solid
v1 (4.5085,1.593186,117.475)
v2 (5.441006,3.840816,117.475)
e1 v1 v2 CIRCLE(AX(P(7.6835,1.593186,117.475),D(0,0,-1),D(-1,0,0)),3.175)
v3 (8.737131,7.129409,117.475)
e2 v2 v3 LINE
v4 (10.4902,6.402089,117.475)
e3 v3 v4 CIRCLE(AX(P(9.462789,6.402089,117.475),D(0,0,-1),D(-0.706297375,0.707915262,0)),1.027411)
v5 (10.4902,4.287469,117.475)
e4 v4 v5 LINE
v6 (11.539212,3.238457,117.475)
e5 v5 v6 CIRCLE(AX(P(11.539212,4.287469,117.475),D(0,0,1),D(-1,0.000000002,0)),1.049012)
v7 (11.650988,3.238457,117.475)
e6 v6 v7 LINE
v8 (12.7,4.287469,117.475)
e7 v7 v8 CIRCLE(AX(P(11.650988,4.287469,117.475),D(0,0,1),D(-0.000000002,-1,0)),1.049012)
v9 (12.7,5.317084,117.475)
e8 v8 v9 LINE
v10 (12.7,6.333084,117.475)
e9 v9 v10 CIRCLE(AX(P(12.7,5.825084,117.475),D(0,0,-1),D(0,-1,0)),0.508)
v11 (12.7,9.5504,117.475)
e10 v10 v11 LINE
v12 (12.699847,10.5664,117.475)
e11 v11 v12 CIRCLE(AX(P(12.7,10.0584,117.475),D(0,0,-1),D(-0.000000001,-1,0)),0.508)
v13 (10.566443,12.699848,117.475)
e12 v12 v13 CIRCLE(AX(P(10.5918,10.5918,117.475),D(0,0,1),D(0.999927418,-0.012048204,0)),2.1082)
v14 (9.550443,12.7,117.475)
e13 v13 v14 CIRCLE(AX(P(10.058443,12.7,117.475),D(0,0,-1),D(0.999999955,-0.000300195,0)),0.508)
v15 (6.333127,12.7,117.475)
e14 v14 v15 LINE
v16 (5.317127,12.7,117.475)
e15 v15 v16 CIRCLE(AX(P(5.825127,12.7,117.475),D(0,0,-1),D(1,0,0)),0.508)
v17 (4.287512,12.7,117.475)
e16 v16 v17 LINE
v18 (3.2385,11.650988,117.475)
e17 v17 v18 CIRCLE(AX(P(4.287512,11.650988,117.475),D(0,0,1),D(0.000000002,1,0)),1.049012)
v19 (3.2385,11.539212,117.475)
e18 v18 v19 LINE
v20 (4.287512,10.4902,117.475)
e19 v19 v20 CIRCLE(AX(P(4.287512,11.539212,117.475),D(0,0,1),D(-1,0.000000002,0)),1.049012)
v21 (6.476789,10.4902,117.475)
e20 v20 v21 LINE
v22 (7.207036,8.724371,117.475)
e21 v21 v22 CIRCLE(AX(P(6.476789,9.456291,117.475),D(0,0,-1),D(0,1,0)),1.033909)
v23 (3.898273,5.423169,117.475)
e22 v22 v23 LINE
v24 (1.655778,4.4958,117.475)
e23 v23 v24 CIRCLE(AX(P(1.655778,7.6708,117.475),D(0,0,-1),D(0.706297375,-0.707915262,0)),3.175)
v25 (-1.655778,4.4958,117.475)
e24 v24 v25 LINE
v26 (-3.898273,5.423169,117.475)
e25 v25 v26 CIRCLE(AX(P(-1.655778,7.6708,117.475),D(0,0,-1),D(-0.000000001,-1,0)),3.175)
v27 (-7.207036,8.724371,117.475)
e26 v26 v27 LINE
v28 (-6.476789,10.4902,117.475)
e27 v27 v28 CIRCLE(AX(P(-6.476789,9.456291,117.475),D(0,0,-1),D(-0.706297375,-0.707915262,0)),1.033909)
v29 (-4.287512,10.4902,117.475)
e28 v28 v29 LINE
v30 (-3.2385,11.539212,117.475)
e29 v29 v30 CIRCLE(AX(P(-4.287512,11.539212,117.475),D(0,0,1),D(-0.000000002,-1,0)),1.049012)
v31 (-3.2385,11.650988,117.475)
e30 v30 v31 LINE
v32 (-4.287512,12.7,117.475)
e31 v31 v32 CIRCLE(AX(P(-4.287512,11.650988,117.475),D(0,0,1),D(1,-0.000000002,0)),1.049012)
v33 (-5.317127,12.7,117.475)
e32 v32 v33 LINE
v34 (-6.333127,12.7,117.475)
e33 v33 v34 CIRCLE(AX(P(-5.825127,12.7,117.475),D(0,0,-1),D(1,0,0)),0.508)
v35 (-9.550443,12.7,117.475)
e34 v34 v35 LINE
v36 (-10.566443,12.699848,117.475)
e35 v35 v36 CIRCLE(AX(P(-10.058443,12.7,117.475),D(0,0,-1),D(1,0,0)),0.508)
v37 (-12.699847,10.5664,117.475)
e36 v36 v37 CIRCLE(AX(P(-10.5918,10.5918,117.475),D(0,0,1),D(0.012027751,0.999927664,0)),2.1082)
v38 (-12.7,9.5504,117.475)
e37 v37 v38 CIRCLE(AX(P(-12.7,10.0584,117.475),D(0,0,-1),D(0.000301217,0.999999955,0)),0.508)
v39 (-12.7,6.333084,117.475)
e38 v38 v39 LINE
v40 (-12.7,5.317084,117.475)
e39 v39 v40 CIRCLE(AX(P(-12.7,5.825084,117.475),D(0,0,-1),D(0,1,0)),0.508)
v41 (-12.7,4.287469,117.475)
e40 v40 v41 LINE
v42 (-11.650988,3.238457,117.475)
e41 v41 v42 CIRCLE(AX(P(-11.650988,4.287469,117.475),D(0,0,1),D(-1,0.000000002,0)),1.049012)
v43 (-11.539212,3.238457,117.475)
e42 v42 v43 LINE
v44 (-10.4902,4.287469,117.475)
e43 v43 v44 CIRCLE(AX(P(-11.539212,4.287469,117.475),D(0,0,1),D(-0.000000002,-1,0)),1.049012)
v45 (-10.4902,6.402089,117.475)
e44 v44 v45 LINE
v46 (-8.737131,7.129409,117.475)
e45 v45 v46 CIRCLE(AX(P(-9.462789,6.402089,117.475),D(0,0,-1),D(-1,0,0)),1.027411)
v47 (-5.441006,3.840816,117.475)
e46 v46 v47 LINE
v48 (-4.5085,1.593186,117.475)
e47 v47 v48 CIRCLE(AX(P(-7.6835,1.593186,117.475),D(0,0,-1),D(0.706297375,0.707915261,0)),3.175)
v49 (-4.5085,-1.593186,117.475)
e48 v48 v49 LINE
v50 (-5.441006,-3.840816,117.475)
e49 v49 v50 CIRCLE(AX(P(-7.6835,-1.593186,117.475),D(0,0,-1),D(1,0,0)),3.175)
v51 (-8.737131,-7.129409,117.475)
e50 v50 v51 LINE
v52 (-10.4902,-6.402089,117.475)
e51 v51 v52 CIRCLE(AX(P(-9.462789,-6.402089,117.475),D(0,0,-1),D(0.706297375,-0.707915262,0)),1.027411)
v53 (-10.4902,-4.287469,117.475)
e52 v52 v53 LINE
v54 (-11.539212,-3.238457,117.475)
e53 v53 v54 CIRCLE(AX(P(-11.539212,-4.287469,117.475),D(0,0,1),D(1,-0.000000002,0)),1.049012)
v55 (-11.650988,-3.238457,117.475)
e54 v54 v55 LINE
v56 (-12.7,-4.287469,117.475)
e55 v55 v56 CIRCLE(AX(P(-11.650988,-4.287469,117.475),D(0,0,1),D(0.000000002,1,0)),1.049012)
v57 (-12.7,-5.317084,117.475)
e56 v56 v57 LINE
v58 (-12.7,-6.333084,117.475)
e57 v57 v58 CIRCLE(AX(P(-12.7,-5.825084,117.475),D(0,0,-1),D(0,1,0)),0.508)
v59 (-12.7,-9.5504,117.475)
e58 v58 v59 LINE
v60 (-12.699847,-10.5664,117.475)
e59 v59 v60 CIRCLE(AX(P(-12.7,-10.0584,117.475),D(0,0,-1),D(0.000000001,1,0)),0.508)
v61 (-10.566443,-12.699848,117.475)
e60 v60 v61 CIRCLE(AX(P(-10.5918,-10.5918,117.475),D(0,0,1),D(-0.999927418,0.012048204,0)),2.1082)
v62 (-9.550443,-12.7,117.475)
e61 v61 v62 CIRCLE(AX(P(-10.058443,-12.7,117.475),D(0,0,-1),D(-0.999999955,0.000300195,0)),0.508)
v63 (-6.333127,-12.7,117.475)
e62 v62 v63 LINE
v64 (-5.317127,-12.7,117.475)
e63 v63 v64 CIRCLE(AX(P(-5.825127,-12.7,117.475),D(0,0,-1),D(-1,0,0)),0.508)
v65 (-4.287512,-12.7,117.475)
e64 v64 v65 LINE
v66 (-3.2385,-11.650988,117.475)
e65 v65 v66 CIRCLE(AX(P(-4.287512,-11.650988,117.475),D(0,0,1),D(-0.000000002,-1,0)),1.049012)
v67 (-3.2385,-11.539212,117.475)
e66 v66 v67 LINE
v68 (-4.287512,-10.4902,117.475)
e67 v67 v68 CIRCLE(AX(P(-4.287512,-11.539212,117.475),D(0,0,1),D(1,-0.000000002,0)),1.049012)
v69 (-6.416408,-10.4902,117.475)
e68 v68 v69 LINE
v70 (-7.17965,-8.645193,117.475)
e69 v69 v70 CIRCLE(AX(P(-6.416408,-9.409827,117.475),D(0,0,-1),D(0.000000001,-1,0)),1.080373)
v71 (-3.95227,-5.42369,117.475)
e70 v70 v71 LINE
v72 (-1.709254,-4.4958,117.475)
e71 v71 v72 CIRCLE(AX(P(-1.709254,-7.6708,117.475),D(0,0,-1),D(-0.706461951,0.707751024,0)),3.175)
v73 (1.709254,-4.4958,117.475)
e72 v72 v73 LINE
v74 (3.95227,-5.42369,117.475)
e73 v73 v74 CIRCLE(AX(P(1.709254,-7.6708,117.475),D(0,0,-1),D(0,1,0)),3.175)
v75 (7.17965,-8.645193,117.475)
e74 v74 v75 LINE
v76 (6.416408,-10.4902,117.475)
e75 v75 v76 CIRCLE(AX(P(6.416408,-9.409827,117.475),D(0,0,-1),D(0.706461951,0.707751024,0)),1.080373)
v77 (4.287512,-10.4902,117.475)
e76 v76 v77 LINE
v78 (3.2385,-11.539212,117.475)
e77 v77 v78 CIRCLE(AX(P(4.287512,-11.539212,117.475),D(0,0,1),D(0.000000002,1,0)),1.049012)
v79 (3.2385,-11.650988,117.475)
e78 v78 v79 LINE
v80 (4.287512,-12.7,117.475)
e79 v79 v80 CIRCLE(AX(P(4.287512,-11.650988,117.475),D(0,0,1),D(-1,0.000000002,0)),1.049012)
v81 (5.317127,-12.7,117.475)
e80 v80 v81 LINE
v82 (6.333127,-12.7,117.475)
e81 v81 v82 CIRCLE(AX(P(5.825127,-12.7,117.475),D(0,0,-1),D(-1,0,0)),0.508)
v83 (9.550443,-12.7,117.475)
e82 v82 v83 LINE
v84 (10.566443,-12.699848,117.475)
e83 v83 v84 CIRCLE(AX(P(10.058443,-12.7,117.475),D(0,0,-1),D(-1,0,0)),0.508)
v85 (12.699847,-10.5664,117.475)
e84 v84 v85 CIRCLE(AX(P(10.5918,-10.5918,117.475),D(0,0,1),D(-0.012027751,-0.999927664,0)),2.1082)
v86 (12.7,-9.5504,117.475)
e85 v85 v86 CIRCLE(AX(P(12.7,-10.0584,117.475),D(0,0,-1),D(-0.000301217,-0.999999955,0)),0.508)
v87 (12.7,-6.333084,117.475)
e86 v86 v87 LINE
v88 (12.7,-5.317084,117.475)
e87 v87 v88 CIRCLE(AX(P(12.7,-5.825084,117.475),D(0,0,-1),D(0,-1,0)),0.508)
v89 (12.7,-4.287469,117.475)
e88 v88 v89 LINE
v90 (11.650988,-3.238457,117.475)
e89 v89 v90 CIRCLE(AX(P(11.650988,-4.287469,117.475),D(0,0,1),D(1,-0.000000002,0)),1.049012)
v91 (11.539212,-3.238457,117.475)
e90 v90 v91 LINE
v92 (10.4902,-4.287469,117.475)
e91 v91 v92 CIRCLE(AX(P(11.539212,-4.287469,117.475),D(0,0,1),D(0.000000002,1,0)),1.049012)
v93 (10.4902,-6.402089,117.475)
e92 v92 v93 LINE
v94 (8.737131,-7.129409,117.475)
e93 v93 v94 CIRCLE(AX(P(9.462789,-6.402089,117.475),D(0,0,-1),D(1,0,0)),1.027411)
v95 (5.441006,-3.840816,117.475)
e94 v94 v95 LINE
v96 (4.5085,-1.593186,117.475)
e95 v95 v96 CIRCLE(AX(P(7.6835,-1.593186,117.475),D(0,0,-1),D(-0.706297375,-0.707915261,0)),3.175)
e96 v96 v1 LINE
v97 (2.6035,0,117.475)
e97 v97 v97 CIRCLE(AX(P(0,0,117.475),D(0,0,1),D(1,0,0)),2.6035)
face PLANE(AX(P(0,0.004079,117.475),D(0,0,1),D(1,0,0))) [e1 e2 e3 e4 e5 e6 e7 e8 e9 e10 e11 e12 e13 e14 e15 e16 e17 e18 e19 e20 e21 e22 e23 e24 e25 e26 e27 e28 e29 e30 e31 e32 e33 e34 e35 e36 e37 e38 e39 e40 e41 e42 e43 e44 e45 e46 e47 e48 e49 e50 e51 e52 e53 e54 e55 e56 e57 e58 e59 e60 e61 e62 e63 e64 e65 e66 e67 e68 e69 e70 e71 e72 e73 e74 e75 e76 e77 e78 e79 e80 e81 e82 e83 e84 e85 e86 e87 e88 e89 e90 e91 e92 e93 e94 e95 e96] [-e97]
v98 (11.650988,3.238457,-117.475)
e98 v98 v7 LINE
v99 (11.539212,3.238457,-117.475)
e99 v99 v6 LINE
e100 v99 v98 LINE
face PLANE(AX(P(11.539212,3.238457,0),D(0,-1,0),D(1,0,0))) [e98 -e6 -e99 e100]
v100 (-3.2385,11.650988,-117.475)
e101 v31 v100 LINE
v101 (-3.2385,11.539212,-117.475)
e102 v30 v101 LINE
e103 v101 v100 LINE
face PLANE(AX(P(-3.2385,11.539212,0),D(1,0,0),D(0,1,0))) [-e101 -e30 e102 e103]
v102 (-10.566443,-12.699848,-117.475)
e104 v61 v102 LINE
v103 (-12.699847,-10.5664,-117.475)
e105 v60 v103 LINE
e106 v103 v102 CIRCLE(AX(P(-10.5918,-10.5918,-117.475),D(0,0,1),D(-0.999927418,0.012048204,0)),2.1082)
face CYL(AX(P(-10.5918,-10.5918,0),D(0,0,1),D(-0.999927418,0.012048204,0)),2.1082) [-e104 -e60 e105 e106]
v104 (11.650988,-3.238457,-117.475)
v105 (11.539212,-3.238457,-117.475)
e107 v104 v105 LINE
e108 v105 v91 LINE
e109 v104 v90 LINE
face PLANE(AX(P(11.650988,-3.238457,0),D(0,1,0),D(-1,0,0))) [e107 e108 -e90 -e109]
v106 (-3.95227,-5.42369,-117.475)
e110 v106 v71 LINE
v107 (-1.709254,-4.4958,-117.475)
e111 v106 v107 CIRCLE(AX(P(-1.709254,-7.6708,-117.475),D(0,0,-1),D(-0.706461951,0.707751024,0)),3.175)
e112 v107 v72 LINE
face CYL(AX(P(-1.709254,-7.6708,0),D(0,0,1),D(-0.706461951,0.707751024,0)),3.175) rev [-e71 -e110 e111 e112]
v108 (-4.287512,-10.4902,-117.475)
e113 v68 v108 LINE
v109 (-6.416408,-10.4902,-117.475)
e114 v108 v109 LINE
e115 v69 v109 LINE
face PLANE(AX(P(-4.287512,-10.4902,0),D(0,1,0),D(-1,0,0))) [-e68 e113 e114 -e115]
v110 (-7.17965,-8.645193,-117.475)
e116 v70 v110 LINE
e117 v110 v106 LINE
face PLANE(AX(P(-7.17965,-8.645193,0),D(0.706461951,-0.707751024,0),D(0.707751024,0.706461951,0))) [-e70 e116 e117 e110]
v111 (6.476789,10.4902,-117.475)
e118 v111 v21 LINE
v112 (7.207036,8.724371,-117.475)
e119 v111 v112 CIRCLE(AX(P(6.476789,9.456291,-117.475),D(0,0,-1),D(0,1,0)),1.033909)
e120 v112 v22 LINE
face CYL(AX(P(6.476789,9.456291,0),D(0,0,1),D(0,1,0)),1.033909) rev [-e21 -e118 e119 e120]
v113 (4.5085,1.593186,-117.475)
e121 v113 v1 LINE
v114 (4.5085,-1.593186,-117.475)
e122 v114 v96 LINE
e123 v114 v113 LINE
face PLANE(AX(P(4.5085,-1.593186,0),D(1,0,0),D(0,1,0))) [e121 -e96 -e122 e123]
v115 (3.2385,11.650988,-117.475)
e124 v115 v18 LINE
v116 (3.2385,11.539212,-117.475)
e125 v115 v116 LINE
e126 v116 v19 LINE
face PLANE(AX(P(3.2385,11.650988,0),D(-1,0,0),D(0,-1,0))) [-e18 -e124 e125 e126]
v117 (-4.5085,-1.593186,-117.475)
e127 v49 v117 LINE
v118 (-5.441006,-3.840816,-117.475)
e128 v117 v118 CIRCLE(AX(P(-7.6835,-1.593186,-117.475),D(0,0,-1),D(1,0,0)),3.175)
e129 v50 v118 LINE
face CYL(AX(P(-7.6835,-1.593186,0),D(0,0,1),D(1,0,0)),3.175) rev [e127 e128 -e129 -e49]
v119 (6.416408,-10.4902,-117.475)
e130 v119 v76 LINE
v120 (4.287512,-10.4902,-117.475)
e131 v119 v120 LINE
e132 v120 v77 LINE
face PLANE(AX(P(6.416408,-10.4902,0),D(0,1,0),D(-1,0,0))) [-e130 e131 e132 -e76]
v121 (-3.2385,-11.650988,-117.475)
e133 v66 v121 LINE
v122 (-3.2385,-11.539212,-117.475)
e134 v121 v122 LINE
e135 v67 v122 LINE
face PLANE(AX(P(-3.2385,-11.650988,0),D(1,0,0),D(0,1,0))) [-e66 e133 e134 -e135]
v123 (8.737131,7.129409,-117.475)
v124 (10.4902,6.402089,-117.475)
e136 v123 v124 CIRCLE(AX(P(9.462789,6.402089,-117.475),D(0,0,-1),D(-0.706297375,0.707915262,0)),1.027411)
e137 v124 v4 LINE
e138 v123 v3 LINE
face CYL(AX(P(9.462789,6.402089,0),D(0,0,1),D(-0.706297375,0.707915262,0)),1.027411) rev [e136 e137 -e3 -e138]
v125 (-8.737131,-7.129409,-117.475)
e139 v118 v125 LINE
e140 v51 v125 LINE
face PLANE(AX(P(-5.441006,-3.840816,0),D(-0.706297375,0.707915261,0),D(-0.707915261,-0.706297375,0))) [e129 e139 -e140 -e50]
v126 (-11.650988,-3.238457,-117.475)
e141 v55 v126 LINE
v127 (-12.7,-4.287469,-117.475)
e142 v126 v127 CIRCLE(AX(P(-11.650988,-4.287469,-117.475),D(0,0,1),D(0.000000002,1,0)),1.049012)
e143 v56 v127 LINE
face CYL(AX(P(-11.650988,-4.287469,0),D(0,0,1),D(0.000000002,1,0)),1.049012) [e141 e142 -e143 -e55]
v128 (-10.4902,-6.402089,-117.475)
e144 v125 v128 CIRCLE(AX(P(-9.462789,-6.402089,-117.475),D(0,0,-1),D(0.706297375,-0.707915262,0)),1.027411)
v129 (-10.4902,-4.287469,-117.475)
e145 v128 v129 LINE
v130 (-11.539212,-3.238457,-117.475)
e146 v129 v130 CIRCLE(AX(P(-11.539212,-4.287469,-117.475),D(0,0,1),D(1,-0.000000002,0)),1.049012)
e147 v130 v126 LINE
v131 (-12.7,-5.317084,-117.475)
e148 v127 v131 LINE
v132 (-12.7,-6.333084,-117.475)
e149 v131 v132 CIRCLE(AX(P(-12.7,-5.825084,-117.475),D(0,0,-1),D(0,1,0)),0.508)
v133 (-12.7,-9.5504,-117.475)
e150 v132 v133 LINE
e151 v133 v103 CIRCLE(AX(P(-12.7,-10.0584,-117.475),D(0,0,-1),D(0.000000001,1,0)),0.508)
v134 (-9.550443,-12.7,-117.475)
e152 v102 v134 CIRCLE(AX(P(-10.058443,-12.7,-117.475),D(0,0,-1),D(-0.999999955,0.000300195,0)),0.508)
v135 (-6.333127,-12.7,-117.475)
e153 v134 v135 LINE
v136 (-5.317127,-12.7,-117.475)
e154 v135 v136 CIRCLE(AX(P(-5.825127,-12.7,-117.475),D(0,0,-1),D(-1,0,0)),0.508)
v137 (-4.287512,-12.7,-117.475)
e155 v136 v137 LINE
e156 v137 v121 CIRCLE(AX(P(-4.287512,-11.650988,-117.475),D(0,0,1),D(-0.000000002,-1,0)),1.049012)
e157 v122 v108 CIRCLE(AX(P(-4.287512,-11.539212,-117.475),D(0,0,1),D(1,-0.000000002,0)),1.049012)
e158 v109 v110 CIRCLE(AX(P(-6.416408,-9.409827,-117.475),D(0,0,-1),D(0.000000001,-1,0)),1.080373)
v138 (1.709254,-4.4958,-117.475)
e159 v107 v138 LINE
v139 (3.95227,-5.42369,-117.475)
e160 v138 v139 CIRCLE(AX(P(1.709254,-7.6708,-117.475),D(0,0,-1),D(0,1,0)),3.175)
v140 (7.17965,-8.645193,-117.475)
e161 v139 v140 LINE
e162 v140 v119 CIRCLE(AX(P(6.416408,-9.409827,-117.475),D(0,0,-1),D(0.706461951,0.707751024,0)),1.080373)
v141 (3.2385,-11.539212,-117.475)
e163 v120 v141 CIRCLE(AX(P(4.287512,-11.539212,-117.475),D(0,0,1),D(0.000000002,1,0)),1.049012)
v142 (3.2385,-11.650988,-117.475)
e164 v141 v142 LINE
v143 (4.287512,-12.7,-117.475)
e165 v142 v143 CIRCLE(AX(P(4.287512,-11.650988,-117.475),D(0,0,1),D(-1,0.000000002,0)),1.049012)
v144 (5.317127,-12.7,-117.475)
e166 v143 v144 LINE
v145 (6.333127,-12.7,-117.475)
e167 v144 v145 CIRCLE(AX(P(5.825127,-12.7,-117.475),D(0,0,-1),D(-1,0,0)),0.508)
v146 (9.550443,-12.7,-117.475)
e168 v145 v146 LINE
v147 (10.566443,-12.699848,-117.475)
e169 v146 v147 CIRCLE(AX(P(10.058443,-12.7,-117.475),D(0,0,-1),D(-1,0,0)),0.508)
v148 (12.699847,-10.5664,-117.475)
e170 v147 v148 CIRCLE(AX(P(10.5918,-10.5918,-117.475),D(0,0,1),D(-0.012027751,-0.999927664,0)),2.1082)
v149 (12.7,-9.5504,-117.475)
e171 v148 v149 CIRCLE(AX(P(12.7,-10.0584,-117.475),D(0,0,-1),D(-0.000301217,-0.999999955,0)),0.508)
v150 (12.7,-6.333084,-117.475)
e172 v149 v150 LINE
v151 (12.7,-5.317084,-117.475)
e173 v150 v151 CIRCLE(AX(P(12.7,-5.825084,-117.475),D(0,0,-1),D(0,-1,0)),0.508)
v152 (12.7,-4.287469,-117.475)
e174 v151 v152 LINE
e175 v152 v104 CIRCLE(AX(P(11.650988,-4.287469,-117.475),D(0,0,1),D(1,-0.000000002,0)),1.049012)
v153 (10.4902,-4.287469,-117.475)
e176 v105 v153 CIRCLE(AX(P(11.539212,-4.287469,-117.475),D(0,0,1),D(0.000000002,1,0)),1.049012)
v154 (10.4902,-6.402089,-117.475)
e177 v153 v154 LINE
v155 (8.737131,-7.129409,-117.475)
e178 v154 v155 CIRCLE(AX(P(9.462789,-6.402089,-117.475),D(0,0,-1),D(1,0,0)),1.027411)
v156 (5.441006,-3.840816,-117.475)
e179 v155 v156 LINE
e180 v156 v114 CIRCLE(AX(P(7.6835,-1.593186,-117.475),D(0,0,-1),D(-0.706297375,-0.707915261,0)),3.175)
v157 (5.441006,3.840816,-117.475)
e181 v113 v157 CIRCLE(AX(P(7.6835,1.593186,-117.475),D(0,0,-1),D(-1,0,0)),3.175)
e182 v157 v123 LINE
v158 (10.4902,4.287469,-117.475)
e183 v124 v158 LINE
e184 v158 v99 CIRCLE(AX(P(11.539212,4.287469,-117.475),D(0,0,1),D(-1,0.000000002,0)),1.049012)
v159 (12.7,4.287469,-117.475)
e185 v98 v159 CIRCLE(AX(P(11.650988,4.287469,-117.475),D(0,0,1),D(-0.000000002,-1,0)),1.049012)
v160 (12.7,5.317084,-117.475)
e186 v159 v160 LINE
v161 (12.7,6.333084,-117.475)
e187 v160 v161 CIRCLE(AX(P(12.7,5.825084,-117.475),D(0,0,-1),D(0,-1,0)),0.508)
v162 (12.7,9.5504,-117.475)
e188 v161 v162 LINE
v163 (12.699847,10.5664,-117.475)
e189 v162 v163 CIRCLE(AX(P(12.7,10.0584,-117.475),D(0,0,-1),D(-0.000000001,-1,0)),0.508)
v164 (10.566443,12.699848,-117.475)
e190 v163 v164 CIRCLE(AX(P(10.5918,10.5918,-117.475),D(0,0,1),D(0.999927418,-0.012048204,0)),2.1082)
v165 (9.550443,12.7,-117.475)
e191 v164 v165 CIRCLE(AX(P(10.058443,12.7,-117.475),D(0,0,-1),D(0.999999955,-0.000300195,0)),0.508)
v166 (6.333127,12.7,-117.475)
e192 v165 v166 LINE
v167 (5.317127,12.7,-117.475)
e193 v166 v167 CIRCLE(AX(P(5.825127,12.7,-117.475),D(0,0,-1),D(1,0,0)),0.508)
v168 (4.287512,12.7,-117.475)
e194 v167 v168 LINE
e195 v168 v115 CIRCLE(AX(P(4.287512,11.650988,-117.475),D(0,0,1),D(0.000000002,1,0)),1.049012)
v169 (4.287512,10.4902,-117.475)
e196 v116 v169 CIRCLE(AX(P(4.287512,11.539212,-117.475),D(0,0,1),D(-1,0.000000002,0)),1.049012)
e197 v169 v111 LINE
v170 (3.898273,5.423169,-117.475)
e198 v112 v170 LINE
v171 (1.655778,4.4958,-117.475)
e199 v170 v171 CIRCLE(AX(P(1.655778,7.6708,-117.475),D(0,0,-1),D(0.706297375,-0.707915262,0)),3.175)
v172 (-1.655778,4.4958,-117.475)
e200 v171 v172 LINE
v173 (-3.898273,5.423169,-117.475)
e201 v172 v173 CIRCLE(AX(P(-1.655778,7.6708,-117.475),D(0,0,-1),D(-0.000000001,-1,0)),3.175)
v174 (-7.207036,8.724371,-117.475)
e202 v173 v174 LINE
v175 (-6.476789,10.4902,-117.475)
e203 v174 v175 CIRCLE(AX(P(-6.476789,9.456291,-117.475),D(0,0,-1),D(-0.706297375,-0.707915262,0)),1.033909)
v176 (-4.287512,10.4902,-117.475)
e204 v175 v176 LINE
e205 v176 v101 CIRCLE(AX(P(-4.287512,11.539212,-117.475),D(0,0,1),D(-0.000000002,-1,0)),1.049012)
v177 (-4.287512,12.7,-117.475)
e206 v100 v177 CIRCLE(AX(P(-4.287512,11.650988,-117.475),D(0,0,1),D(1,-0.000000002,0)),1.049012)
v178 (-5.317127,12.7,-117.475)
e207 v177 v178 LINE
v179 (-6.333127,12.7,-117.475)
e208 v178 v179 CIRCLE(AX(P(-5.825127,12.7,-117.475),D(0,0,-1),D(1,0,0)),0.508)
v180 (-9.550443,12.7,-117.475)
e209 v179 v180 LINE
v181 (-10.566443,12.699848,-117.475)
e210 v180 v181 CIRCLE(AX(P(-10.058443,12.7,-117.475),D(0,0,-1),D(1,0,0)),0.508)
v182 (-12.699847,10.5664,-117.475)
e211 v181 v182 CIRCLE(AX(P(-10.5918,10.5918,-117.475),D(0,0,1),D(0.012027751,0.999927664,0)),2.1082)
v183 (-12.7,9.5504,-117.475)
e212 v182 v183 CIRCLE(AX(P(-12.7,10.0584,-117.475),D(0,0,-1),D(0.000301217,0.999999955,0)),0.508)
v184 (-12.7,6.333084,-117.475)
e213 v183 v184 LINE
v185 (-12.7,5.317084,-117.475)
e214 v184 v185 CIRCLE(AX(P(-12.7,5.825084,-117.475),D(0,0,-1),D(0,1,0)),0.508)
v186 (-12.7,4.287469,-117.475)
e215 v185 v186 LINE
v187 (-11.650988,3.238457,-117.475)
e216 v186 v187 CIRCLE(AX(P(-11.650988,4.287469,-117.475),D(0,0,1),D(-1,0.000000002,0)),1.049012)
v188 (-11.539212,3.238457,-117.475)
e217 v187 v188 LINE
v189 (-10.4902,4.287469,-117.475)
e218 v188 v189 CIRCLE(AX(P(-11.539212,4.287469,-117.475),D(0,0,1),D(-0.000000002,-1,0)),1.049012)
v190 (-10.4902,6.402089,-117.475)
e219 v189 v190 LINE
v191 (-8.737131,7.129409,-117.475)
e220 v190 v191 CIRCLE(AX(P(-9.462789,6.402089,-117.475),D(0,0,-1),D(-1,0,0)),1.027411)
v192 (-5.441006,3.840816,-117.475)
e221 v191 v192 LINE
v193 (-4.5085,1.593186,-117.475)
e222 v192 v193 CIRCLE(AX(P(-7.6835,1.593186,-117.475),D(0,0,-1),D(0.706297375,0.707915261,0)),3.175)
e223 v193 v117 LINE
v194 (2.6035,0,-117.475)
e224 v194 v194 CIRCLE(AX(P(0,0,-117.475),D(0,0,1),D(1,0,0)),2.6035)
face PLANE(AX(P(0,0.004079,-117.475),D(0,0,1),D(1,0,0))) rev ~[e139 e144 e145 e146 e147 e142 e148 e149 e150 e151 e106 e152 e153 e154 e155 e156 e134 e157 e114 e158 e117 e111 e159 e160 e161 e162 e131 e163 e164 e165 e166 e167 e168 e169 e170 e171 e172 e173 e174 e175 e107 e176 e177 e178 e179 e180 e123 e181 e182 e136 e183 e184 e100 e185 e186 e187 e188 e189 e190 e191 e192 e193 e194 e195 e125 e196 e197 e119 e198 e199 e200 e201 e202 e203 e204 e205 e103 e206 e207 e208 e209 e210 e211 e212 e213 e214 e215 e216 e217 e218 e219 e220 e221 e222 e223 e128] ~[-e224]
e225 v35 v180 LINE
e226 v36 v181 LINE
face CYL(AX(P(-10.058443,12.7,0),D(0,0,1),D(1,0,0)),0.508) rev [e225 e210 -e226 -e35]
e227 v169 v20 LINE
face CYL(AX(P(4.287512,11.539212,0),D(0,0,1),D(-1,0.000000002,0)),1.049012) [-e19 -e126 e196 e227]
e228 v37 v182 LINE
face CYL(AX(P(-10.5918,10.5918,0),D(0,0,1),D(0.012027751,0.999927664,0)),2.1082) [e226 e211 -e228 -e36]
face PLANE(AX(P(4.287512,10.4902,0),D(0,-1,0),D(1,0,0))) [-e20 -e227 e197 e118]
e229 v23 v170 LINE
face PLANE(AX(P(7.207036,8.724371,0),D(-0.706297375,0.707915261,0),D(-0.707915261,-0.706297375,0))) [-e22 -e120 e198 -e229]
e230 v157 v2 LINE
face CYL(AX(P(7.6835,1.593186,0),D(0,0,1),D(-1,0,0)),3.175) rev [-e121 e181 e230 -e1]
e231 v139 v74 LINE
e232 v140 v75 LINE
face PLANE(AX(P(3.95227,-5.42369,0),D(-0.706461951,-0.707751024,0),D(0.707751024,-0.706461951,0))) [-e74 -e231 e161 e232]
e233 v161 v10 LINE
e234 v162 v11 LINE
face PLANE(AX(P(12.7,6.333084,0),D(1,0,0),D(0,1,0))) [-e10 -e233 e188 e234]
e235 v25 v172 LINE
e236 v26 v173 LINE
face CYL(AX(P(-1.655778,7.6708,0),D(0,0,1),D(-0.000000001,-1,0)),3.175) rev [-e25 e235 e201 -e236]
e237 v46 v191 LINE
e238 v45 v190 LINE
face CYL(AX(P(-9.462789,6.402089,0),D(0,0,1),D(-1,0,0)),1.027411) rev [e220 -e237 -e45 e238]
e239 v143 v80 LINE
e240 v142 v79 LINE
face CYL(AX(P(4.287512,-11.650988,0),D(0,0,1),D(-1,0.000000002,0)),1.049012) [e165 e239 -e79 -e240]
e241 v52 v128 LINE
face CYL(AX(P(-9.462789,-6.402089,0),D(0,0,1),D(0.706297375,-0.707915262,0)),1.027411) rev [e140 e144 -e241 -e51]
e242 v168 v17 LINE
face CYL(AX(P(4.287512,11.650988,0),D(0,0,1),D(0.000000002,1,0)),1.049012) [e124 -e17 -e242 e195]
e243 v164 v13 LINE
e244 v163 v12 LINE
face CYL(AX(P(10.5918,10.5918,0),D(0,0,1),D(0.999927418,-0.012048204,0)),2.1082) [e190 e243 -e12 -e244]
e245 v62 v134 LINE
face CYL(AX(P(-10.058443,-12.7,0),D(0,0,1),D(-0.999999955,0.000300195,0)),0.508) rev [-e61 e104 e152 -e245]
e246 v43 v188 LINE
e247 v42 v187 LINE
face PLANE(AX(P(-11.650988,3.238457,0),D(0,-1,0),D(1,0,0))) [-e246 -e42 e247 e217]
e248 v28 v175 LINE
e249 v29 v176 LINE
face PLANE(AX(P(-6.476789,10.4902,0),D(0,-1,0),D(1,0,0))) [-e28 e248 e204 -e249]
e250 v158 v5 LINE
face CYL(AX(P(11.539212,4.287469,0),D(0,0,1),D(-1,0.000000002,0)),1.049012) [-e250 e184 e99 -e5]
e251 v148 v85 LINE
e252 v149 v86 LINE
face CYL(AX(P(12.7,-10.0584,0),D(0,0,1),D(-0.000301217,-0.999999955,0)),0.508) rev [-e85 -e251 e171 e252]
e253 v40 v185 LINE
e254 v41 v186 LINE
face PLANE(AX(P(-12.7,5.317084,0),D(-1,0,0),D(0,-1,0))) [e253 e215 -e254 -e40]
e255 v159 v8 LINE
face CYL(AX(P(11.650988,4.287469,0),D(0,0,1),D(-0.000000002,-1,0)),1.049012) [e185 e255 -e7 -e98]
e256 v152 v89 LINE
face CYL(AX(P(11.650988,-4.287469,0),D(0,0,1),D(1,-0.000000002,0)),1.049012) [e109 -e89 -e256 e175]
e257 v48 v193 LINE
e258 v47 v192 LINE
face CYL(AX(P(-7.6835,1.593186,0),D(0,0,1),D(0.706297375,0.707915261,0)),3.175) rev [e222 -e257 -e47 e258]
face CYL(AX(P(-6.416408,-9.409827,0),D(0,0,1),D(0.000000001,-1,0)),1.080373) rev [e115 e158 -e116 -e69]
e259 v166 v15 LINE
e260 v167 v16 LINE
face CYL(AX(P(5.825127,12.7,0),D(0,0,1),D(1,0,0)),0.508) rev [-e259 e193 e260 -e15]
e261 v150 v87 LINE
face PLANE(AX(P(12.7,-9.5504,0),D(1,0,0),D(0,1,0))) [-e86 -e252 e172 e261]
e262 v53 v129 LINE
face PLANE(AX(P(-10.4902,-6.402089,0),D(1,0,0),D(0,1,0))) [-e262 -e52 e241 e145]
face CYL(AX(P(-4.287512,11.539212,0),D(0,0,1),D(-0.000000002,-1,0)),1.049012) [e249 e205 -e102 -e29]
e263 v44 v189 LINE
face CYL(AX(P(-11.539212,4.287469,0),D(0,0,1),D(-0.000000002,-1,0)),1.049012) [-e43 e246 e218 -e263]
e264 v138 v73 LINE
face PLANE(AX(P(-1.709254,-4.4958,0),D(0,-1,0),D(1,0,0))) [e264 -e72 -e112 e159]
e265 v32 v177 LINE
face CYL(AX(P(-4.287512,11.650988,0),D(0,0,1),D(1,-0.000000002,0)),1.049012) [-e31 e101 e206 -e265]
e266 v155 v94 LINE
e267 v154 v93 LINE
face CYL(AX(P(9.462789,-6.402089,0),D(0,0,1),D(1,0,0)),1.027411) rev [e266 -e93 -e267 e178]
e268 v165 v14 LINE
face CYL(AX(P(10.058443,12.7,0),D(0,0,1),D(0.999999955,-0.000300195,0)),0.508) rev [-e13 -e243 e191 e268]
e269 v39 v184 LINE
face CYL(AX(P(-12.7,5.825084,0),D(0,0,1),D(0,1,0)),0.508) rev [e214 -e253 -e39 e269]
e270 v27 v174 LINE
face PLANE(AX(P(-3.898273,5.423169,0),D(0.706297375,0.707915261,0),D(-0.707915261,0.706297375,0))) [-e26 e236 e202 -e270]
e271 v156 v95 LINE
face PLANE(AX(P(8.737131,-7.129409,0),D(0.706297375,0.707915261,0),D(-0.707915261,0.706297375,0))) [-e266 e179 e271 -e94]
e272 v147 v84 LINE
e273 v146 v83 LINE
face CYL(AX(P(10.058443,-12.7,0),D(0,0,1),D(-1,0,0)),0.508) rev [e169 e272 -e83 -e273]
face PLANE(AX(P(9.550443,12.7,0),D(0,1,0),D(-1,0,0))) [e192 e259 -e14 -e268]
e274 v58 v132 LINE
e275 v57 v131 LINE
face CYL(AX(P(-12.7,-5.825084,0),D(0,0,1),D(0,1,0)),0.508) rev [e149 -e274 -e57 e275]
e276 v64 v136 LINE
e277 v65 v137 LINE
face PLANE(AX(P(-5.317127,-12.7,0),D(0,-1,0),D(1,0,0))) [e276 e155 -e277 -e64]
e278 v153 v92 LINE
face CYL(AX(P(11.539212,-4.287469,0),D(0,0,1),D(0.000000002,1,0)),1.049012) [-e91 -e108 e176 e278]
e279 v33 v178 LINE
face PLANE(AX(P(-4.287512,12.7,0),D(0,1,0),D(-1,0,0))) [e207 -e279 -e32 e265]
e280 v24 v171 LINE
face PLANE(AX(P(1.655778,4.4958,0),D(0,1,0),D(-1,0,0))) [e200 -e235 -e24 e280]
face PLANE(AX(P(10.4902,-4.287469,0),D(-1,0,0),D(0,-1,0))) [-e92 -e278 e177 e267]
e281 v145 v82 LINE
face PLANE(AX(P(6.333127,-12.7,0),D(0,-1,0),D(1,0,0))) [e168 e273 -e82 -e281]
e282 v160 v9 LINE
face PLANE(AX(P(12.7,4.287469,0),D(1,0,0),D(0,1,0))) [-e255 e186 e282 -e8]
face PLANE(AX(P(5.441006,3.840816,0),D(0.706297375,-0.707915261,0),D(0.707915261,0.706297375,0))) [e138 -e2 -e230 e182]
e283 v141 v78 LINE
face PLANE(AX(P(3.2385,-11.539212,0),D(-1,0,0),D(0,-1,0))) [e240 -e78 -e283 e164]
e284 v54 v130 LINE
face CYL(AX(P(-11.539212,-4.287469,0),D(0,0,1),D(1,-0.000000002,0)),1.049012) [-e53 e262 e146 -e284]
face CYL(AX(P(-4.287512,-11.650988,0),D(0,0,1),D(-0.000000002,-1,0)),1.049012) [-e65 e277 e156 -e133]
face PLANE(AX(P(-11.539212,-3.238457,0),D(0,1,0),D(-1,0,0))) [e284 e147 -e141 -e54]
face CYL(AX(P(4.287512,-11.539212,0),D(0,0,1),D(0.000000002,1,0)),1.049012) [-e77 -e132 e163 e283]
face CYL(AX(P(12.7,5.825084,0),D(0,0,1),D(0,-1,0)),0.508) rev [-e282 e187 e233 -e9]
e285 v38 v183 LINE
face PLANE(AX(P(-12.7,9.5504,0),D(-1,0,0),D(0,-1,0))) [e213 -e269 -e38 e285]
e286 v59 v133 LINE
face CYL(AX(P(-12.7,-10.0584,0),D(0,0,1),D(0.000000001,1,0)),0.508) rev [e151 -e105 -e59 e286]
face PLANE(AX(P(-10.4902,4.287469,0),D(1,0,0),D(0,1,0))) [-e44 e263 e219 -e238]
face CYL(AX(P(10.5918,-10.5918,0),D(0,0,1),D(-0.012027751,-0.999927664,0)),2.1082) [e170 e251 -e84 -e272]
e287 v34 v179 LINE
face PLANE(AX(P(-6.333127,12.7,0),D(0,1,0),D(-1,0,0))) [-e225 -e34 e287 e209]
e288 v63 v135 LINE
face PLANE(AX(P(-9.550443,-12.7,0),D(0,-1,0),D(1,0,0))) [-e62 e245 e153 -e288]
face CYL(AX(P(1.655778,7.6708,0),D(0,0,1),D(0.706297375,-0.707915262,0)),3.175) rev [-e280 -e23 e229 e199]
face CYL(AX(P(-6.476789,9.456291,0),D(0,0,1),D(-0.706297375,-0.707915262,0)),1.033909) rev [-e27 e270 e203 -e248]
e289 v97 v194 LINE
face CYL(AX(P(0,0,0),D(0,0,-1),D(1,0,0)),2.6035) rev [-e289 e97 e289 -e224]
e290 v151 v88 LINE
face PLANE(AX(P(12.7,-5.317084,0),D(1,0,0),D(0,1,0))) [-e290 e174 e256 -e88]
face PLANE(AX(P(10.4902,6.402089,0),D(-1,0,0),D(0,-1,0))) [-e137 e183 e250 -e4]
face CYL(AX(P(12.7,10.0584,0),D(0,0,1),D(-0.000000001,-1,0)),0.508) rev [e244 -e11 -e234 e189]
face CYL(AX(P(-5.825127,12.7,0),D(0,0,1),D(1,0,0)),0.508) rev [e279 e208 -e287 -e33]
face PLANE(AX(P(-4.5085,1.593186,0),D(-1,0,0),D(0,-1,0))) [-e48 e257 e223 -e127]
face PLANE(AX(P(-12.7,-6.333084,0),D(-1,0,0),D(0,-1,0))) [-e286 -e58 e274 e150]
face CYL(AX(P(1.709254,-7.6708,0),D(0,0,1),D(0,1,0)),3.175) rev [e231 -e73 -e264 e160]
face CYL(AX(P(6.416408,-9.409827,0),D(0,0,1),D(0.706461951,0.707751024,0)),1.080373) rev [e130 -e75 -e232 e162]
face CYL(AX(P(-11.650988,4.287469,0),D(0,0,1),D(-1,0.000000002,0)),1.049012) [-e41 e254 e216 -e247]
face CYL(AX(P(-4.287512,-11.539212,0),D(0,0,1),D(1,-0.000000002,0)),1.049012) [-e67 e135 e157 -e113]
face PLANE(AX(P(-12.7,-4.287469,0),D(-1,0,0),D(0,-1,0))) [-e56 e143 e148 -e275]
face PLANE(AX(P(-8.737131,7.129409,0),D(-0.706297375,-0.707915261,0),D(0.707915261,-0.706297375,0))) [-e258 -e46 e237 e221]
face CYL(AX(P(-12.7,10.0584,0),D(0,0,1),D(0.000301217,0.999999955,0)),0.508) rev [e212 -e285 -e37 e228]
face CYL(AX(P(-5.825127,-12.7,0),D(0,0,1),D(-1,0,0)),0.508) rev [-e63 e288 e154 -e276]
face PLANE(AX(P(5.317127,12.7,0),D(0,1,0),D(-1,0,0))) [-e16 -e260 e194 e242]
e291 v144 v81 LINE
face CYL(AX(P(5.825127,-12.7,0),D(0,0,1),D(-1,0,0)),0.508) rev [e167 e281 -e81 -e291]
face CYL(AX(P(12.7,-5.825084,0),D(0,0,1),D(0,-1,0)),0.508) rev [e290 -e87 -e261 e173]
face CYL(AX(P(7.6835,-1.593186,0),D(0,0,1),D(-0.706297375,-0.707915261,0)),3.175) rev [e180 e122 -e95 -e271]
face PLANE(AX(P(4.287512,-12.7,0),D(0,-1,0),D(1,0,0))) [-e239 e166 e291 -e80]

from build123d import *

# Parameters (mm, degrees)
SKETCH1_R           = 2.6035
BOSS_EXTRUDE1_DEPTH = 117.475


with BuildPart() as part:
    # Sketch1 → Boss-Extrude1 (new body, symmetric)
    with BuildSketch(Plane.XY):
        with BuildLine():
            Line((-7.179650497, -8.645192506), (-3.952270251, -5.423690499))
            ThreePointArc((-3.952270251, -5.423690499), (-2.922936451, -4.736929036), (-1.709253557, -4.4958))
            Line((-1.709253557, -4.4958), (1.709253557, -4.4958))
            ThreePointArc((1.709253557, -4.4958), (2.922936451, -4.736929036), (3.952270251, -5.423690499))
            Line((3.952270251, -5.423690499), (7.179650497, -8.645192506))
            ThreePointArc((7.179650497, -8.645192506), (7.41473083, -9.822813117), (6.416408329, -10.4902))
            Line((6.416408329, -10.4902), (4.287512407, -10.4902))
            ThreePointArc((4.287512407, -10.4902), (3.54574862, -10.79744862), (3.2385, -11.539212407))
            Line((3.2385, -11.539212407), (3.2385, -11.650987593))
            ThreePointArc((3.2385, -11.650987593), (3.54574862, -12.39275138), (4.287512407, -12.7))
            Line((4.287512407, -12.7), (5.317126718, -12.7))
            ThreePointArc((5.317126718, -12.7), (5.825126718, -12.192), (6.333126718, -12.7))
            Line((6.333126718, -12.7), (9.550443118, -12.7))
            ThreePointArc((9.550443118, -12.7), (10.058366869, -12.192000006), (10.566443095, -12.699847501))
            ThreePointArc((10.566443095, -12.699847501), (12.082537762, -12.08250727), (12.699846982, -10.566399977))
            ThreePointArc((12.699846982, -10.566399977), (12.192000006, -10.058323491), (12.7, -9.5504))
            Line((12.7, -9.5504), (12.7, -6.3330836))
            ThreePointArc((12.7, -6.3330836), (12.192, -5.8250836), (12.7, -5.3170836))
            Line((12.7, -5.3170836), (12.7, -4.287469289))
            ThreePointArc((12.7, -4.287469289), (12.39275138, -3.545705502), (11.650987593, -3.238456882))
            Line((11.650987593, -3.238456882), (11.539212407, -3.238456882))
            ThreePointArc((11.539212407, -3.238456882), (10.79744862, -3.545705502), (10.4902, -4.287469289))
            Line((10.4902, -4.287469289), (10.4902, -6.402089023))
            ThreePointArc((10.4902, -6.402089023), (9.856505071, -7.351067942), (8.737131347, -7.129408934))
            Line((8.737131347, -7.129408934), (5.441005833, -3.840816462))
            ThreePointArc((5.441005833, -3.840816462), (4.750877967, -2.809883091), (4.5085, -1.593185507))
            Line((4.5085, -1.593185507), (4.5085, 1.593185507))
            ThreePointArc((4.5085, 1.593185507), (4.750877967, 2.809883091), (5.441005833, 3.840816462))
            Line((5.441005833, 3.840816462), (8.737131347, 7.129408934))
            ThreePointArc((8.737131347, 7.129408934), (9.856505071, 7.351067942), (10.4902, 6.402089023))
            Line((10.4902, 6.402089023), (10.4902, 4.287469289))
            ThreePointArc((10.4902, 4.287469289), (10.79744862, 3.545705502), (11.539212407, 3.238456882))
            Line((11.539212407, 3.238456882), (11.650987593, 3.238456882))
            ThreePointArc((11.650987593, 3.238456882), (12.39275138, 3.545705502), (12.7, 4.287469289))
            Line((12.7, 4.287469289), (12.7, 5.3170836))
            ThreePointArc((12.7, 5.3170836), (12.192, 5.8250836), (12.7, 6.3330836))
            Line((12.7, 6.3330836), (12.7, 9.5504))
            ThreePointArc((12.7, 9.5504), (12.192000006, 10.058323491), (12.699846982, 10.566399977))
            ThreePointArc((12.699846982, 10.566399977), (12.082537762, 12.08250727), (10.566443095, 12.699847501))
            ThreePointArc((10.566443095, 12.699847501), (10.058366869, 12.192000006), (9.550443118, 12.7))
            Line((9.550443118, 12.7), (6.333126718, 12.7))
            ThreePointArc((6.333126718, 12.7), (5.825126718, 12.192), (5.317126718, 12.7))
            Line((5.317126718, 12.7), (4.287512407, 12.7))
            ThreePointArc((4.287512407, 12.7), (3.54574862, 12.39275138), (3.2385, 11.650987593))
            Line((3.2385, 11.650987593), (3.2385, 11.539212407))
            ThreePointArc((3.2385, 11.539212407), (3.54574862, 10.79744862), (4.287512407, 10.4902))
            Line((4.287512407, 10.4902), (6.476788598, 10.4902))
            ThreePointArc((6.476788598, 10.4902), (7.432222385, 9.85140422), (7.207036008, 8.724370562))
            Line((7.207036008, 8.724370562), (3.898272566, 5.423169045))
            ThreePointArc((3.898272566, 5.423169045), (2.869120213, 4.736787962), (1.655778399, 4.4958))
            Line((1.655778399, 4.4958), (-1.655778399, 4.4958))
            ThreePointArc((-1.655778399, 4.4958), (-2.869120213, 4.736787962), (-3.898272566, 5.423169045))
            Line((-3.898272566, 5.423169045), (-7.207036008, 8.724370562))
            ThreePointArc((-7.207036008, 8.724370562), (-7.432222385, 9.85140422), (-6.476788598, 10.4902))
            Line((-6.476788598, 10.4902), (-4.287512407, 10.4902))
            ThreePointArc((-4.287512407, 10.4902), (-3.54574862, 10.79744862), (-3.2385, 11.539212407))
            Line((-3.2385, 11.539212407), (-3.2385, 11.650987593))
            ThreePointArc((-3.2385, 11.650987593), (-3.54574862, 12.39275138), (-4.287512407, 12.7))
            Line((-4.287512407, 12.7), (-5.317126718, 12.7))
            ThreePointArc((-5.317126718, 12.7), (-5.825126718, 12.192), (-6.333126718, 12.7))
            Line((-6.333126718, 12.7), (-9.550443118, 12.7))
            ThreePointArc((-9.550443118, 12.7), (-10.058366869, 12.192000006), (-10.566443095, 12.699847501))
            ThreePointArc((-10.566443095, 12.699847501), (-12.082537762, 12.08250727), (-12.699846982, 10.566399977))
            ThreePointArc((-12.699846982, 10.566399977), (-12.192000006, 10.058323491), (-12.7, 9.5504))
            Line((-12.7, 9.5504), (-12.7, 6.3330836))
            ThreePointArc((-12.7, 6.3330836), (-12.192, 5.8250836), (-12.7, 5.3170836))
            Line((-12.7, 5.3170836), (-12.7, 4.287469289))
            ThreePointArc((-12.7, 4.287469289), (-12.39275138, 3.545705502), (-11.650987593, 3.238456882))
            Line((-11.650987593, 3.238456882), (-11.539212407, 3.238456882))
            ThreePointArc((-11.539212407, 3.238456882), (-10.79744862, 3.545705502), (-10.4902, 4.287469289))
            Line((-10.4902, 4.287469289), (-10.4902, 6.402089023))
            ThreePointArc((-10.4902, 6.402089023), (-9.856505071, 7.351067942), (-8.737131347, 7.129408934))
            Line((-8.737131347, 7.129408934), (-5.441005833, 3.840816462))
            ThreePointArc((-5.441005833, 3.840816462), (-4.750877967, 2.809883091), (-4.5085, 1.593185507))
            Line((-4.5085, 1.593185507), (-4.5085, -1.593185507))
            ThreePointArc((-4.5085, -1.593185507), (-4.750877967, -2.809883091), (-5.441005833, -3.840816462))
            Line((-5.441005833, -3.840816462), (-8.737131347, -7.129408934))
            ThreePointArc((-8.737131347, -7.129408934), (-9.856505071, -7.351067942), (-10.4902, -6.402089023))
            Line((-10.4902, -6.402089023), (-10.4902, -4.287469289))
            ThreePointArc((-10.4902, -4.287469289), (-10.79744862, -3.545705502), (-11.539212407, -3.238456882))
            Line((-11.539212407, -3.238456882), (-11.650987593, -3.238456882))
            ThreePointArc((-11.650987593, -3.238456882), (-12.39275138, -3.545705502), (-12.7, -4.287469289))
            Line((-12.7, -4.287469289), (-12.7, -5.3170836))
            ThreePointArc((-12.7, -5.3170836), (-12.192, -5.8250836), (-12.7, -6.3330836))
            Line((-12.7, -6.3330836), (-12.7, -9.5504))
            ThreePointArc((-12.7, -9.5504), (-12.192000006, -10.058323491), (-12.699846982, -10.566399977))
            ThreePointArc((-12.699846982, -10.566399977), (-12.082537762, -12.08250727), (-10.566443095, -12.699847501))
            ThreePointArc((-10.566443095, -12.699847501), (-10.058366869, -12.192000006), (-9.550443118, -12.7))
            Line((-9.550443118, -12.7), (-6.333126718, -12.7))
            ThreePointArc((-6.333126718, -12.7), (-5.825126718, -12.192), (-5.317126718, -12.7))
            Line((-5.317126718, -12.7), (-4.287512407, -12.7))
            ThreePointArc((-4.287512407, -12.7), (-3.54574862, -12.39275138), (-3.2385, -11.650987593))
            Line((-3.2385, -11.650987593), (-3.2385, -11.539212407))
            ThreePointArc((-3.2385, -11.539212407), (-3.54574862, -10.79744862), (-4.287512407, -10.4902))
            Line((-4.287512407, -10.4902), (-6.416408329, -10.4902))
            ThreePointArc((-6.416408329, -10.4902), (-7.41473083, -9.822813117), (-7.179650497, -8.645192506))
        make_face()
        Circle(SKETCH1_R, mode=Mode.SUBTRACT)
    extrude(amount=BOSS_EXTRUDE1_DEPTH, both=True)


solid = part.part
